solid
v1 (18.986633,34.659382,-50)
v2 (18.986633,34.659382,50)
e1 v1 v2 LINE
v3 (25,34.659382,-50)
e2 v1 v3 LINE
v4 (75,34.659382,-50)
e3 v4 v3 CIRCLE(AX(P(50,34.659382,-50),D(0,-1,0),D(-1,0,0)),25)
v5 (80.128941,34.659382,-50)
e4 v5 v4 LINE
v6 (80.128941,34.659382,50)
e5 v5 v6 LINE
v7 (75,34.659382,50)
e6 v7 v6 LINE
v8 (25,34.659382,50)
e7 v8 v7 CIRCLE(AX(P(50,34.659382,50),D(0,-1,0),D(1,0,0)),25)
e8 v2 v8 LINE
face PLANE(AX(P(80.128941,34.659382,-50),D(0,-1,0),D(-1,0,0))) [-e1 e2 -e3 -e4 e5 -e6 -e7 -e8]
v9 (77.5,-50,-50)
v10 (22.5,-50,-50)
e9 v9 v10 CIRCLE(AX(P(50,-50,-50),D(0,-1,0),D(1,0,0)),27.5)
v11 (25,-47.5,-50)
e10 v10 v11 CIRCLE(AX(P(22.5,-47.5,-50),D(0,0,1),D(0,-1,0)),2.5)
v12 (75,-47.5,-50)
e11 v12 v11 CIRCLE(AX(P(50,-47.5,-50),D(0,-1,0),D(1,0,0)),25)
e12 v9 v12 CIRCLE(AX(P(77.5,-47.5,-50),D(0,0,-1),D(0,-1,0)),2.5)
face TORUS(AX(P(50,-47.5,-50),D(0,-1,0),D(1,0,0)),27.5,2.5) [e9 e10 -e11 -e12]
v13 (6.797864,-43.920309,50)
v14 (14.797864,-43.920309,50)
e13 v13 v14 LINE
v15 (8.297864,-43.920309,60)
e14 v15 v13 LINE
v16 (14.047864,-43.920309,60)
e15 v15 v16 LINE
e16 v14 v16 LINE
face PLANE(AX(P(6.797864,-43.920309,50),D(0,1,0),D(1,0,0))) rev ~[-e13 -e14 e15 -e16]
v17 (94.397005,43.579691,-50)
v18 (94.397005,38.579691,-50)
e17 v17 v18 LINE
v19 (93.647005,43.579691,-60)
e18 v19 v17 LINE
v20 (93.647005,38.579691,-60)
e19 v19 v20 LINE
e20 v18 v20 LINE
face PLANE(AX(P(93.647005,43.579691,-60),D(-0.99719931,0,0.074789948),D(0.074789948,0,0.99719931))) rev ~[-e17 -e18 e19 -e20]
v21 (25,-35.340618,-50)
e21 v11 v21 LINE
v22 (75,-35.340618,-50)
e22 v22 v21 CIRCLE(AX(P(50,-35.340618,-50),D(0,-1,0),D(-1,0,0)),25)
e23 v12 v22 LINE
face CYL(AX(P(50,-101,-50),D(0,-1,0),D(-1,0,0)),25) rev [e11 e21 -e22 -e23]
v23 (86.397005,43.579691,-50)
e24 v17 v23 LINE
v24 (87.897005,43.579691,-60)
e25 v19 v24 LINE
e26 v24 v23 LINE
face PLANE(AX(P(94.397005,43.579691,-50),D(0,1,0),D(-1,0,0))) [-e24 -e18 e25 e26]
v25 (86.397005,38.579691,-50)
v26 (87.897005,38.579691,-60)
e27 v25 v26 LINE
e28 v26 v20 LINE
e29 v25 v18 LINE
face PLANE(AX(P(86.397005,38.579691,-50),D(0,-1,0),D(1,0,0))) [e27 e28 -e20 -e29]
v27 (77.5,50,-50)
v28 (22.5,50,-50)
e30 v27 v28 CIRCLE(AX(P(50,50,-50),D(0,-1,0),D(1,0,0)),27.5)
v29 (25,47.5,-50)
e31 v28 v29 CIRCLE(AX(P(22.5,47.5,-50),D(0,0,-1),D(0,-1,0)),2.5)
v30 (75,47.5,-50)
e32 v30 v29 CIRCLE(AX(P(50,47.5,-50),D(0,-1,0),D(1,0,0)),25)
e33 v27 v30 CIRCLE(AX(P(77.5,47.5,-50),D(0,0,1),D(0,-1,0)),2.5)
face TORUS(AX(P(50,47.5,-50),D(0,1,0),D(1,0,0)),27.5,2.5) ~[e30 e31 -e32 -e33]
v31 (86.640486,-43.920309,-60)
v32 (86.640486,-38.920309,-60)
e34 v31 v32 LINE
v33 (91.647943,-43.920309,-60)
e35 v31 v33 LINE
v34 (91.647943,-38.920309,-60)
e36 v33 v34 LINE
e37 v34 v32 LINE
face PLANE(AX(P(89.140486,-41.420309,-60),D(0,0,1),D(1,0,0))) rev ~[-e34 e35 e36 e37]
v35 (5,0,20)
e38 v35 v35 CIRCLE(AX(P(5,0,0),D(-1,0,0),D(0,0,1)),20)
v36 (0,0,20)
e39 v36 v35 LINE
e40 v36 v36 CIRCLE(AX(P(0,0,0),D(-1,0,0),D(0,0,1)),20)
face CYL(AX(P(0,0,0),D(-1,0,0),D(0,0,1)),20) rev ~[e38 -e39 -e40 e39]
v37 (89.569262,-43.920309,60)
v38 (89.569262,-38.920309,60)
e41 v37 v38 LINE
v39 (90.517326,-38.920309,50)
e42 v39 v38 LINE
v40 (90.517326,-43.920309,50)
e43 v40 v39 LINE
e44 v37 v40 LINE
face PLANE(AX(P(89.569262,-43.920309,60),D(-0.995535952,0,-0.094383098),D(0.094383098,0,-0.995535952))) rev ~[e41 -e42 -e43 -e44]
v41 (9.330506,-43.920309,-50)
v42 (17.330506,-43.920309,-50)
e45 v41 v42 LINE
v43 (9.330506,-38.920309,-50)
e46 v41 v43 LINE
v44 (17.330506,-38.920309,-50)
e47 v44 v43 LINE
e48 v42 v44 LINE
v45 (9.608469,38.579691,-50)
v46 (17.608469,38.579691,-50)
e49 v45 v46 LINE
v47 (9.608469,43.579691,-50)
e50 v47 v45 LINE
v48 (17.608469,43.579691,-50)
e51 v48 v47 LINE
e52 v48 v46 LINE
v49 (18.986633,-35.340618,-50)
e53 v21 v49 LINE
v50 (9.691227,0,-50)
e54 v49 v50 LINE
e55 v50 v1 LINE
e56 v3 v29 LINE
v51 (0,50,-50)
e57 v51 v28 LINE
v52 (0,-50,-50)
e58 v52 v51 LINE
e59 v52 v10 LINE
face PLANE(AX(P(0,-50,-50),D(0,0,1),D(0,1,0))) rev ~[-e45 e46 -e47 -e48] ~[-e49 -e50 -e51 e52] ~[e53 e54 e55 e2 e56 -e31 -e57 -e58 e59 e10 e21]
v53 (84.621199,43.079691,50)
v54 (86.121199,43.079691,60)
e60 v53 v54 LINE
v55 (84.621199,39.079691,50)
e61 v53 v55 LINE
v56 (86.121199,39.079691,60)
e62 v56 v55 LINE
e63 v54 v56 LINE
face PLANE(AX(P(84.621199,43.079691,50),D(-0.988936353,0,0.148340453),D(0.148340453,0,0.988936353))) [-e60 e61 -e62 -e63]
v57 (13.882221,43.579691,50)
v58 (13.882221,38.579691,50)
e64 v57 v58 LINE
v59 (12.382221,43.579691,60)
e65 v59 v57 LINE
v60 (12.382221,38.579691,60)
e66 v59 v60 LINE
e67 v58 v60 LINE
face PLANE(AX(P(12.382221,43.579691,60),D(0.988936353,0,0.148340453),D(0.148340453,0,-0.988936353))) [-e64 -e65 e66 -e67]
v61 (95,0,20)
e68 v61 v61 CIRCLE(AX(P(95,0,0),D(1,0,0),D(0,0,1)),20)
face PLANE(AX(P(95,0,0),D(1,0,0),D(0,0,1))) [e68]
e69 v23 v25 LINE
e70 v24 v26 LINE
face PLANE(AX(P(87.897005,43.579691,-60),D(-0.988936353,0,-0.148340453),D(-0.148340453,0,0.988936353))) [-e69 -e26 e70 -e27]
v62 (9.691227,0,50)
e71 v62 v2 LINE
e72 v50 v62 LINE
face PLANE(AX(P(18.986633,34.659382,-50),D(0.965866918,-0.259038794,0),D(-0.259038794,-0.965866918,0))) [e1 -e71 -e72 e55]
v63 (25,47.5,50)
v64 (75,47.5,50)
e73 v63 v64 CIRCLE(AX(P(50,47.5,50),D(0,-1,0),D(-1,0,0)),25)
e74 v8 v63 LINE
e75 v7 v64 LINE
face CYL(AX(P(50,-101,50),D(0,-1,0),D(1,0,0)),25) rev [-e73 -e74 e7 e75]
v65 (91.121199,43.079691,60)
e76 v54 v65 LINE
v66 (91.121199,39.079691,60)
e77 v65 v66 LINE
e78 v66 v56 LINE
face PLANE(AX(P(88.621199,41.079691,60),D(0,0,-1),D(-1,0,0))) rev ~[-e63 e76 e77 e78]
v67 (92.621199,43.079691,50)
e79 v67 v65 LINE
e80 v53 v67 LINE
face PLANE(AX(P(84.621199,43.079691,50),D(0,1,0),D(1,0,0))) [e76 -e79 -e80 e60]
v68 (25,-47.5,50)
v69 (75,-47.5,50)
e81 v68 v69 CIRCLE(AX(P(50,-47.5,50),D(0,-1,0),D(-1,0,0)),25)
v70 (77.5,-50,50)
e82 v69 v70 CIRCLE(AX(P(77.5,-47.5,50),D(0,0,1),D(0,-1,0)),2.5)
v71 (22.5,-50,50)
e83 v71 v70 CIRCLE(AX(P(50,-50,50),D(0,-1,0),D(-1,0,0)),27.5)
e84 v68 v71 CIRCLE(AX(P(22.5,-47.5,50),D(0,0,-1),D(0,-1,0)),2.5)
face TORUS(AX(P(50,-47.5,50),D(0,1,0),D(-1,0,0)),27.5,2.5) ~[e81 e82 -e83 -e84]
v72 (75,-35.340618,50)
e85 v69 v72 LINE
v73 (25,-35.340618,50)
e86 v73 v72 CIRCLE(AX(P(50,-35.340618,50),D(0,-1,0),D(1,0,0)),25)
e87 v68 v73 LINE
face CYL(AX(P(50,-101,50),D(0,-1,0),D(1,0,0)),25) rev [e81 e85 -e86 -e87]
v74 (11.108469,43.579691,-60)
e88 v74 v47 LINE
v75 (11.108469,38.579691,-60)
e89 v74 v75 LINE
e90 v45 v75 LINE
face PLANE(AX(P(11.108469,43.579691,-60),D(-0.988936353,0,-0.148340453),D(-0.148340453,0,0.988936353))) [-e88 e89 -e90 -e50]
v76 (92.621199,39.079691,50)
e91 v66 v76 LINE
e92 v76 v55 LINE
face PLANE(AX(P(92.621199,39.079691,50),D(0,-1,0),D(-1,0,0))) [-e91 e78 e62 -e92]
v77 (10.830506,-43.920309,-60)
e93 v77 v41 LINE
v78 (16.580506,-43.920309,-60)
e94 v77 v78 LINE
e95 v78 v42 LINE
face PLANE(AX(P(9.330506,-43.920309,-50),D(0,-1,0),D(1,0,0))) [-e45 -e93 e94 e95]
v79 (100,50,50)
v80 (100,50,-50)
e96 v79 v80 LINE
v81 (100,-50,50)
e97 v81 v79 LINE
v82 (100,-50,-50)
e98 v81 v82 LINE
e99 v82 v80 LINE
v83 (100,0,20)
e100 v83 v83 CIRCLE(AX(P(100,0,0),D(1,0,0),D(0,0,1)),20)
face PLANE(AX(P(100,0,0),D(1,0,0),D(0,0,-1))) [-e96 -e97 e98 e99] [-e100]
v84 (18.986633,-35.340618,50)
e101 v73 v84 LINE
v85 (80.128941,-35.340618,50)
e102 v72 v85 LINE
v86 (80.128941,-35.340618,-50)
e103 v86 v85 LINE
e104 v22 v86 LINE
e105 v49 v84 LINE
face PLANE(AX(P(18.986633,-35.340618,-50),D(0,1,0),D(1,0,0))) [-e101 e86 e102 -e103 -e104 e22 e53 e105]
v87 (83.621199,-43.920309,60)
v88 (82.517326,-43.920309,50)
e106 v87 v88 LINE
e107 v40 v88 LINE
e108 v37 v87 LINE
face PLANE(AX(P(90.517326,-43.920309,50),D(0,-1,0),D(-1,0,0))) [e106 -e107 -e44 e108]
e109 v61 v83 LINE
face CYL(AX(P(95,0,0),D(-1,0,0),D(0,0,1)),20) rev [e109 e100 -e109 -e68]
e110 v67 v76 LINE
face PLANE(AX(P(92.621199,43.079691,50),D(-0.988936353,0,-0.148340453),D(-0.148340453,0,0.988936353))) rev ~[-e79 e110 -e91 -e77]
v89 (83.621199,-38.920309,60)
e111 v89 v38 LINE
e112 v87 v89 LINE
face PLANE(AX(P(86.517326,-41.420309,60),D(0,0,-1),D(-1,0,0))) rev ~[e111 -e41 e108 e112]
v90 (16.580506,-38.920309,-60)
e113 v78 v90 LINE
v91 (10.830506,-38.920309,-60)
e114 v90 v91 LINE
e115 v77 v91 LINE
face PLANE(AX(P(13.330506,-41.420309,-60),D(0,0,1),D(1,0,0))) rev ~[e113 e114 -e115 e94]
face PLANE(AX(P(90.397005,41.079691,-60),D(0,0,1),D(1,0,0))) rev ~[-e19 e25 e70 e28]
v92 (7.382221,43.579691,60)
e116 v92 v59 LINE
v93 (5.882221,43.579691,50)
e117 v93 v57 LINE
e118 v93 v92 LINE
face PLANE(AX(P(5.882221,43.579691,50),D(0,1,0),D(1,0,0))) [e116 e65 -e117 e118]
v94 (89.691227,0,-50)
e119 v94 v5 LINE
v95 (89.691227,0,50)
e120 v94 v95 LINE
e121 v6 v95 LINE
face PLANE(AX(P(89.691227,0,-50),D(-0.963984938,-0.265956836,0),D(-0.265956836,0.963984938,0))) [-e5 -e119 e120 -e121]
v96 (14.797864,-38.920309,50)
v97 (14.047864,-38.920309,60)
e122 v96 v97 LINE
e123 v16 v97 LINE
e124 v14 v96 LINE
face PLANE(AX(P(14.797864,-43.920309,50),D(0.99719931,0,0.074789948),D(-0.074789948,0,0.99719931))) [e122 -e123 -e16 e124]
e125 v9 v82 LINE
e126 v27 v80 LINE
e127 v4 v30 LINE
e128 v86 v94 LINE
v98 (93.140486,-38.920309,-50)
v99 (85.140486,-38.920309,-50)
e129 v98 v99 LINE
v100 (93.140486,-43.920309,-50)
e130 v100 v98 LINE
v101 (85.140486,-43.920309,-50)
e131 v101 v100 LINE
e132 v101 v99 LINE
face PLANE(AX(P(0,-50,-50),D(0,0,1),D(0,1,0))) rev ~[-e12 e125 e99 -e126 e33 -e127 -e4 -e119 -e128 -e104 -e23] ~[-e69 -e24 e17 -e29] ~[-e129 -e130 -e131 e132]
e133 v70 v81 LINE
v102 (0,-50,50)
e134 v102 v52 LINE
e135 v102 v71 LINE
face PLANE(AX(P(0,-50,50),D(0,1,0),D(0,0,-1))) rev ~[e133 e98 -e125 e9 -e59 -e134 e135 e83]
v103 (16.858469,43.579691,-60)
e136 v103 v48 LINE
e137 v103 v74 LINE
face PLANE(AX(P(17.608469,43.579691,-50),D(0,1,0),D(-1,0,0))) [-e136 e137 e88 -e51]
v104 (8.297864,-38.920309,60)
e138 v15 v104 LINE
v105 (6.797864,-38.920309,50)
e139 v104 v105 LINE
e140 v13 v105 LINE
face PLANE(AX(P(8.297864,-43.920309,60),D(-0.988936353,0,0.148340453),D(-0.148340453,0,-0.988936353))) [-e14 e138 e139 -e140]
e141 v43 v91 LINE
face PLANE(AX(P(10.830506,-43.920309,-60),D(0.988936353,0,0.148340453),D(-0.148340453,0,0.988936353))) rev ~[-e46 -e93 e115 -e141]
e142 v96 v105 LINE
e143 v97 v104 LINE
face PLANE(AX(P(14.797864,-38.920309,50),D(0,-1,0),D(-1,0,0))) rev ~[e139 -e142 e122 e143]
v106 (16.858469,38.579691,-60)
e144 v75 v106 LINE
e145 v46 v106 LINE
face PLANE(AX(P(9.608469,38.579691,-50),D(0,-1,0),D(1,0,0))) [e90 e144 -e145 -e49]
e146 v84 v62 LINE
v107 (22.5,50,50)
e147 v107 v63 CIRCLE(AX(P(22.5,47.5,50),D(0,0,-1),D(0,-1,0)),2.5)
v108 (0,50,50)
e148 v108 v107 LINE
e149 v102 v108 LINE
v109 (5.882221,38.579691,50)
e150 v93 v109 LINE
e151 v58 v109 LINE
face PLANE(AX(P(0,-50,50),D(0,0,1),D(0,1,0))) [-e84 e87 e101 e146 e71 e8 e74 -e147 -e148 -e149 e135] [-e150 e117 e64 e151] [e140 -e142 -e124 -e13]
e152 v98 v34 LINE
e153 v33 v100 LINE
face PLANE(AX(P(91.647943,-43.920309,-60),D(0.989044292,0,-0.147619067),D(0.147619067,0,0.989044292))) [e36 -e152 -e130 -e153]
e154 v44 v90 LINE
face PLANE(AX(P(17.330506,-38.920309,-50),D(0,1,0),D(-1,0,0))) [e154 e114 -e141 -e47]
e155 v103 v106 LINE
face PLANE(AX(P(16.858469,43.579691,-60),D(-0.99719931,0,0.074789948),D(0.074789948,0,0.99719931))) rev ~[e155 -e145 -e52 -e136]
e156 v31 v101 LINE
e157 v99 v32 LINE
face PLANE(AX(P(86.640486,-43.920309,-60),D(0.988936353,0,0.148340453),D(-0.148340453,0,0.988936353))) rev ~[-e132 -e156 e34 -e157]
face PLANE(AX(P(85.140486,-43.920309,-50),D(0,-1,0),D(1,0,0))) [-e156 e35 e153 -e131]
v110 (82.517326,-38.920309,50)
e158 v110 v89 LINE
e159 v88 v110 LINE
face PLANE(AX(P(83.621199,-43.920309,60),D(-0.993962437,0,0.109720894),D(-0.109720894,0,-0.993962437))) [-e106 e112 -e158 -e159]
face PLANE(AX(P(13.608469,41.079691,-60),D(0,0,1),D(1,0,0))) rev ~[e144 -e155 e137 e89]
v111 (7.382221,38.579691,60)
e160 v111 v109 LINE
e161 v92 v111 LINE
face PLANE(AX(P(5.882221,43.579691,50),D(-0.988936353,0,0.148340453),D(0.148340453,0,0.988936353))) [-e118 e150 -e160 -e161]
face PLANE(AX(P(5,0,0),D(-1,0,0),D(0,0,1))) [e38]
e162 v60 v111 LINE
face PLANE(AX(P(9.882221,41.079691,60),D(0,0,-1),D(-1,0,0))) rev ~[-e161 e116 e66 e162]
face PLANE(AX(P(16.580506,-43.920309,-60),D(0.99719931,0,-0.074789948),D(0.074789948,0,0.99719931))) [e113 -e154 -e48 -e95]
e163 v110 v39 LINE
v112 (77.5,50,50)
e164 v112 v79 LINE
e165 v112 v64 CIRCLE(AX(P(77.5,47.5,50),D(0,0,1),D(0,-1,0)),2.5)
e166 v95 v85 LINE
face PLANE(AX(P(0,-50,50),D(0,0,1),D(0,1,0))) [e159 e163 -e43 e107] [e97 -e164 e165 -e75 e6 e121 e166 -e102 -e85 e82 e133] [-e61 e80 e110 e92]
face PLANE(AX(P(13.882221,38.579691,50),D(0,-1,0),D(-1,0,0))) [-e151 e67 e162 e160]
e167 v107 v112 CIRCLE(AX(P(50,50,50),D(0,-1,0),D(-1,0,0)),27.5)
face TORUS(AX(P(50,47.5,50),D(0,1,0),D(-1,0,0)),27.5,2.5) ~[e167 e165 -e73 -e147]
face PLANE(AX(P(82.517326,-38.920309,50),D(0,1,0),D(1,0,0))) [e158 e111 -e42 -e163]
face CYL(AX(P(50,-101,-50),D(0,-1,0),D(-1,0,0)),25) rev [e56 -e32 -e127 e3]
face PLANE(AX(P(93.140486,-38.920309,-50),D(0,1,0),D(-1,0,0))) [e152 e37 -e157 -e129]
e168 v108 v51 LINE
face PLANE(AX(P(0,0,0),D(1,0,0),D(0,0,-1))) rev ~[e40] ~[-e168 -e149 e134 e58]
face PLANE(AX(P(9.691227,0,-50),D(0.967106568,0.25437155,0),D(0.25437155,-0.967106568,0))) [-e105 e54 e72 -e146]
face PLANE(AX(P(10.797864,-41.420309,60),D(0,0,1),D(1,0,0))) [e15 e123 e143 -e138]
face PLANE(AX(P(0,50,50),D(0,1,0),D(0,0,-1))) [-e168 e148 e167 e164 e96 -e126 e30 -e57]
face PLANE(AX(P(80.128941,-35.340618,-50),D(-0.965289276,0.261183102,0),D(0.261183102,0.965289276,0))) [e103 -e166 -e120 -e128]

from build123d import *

# Parameters (mm, degrees)
SKETCH1_W               = 100
SKETCH1_H               = 100
BOSS_EXTRUDE1_DEPTH     = 100
SKETCH2_R               = 20
CUT_EXTRUDE1_DEPTH      = 5
CUT_EXTRUDE2_START      = -5
SKETCH3_R               = 20
CUT_EXTRUDE2_DEPTH      = 5
CUT_EXTRUDE3_DEPTH      = 151
CUT_EXTRUDE5_DEPTH      = 151
CUT_EXTRUDE5_DEPTH_BACK = 151
CUT_EXTRUDE6_DEPTH      = 151
CUT_EXTRUDE6_DEPTH_BACK = 151
FILLET3_R               = 2.5
BOSS_EXTRUDE3_DEPTH     = 10
CUT_EXTRUDE8_DEPTH      = 10
CUT_EXTRUDE9_DEPTH      = 10
BOSS_EXTRUDE4_DEPTH     = 10
CUT_EXTRUDE11_DEPTH     = 10
CUT_EXTRUDE12_DEPTH     = 10
BOSS_EXTRUDE5_DEPTH     = 10
CUT_EXTRUDE13_DEPTH     = 10
CUT_EXTRUDE15_DEPTH     = 10
BOSS_EXTRUDE6_DEPTH     = 10
CUT_EXTRUDE16_DEPTH     = 10
CUT_EXTRUDE17_DEPTH     = 10
BOSS_EXTRUDE7_DEPTH     = 10
CUT_EXTRUDE18_DEPTH     = 10
CUT_EXTRUDE19_DEPTH     = 10
BOSS_EXTRUDE8_DEPTH     = 10
CUT_EXTRUDE20_DEPTH     = 10
CUT_EXTRUDE21_DEPTH     = 10
BOSS_EXTRUDE9_DEPTH     = 10
CUT_EXTRUDE22_DEPTH     = 10
CUT_EXTRUDE23_DEPTH     = 10
BOSS_EXTRUDE10_DEPTH    = 10
CUT_EXTRUDE24_DEPTH     = 10
CUT_EXTRUDE25_DEPTH     = 10


with BuildPart() as part:
    # Sketch1 → Boss-Extrude1 (new body)
    with BuildSketch(Plane(origin=(0, 0, 0), x_dir=(0, 0, -1), z_dir=(1, 0, 0))):
        Rectangle(SKETCH1_W, SKETCH1_H)
    extrude(amount=BOSS_EXTRUDE1_DEPTH)

    # Sketch2 → Cut-Extrude1 (cut)
    with BuildSketch(Plane.ZY):
        Circle(SKETCH2_R)
    extrude(amount=-CUT_EXTRUDE1_DEPTH, mode=Mode.SUBTRACT)

    # Sketch3 → Cut-Extrude2 (cut)
    with BuildSketch(Plane(origin=(100, 0, 0), x_dir=(0, 0, -1), z_dir=(1, 0, 0)).offset(CUT_EXTRUDE2_START)):
        with Locations(Location((0, 0, 0), (0, 0, 180))):
            Circle(SKETCH3_R)
    extrude(amount=CUT_EXTRUDE2_DEPTH, mode=Mode.SUBTRACT)

    # Sketch4 → Cut-Extrude3 (cut, through all)
    with BuildSketch(Plane(origin=(0, 0, -50), x_dir=(-1, 0, 0), z_dir=(0, 0, -1))):
        Polygon((-80.128941466, 34.659382406), (-18.986632905, 34.659382406), (-9.691227462, 0), (-18.986632905, -35.340617594), (-80.128941466, -35.340617594), (-89.691227462, 0), align=None)
    extrude(amount=-CUT_EXTRUDE3_DEPTH, mode=Mode.SUBTRACT)

    # Sketch15 → Cut-Extrude5 (cut, two sides: drawn at the far end of the back side and taken through both)
    with BuildSketch(Plane(origin=(0, 50, 0), x_dir=(1, 0, 0), z_dir=(0, 1, 0)).offset(-CUT_EXTRUDE5_DEPTH_BACK)):
        with BuildLine():
            Line((75, -310), (75, -50))
            ThreePointArc((75, -50), (50, -25), (25, -50))
            Line((25, -50), (25, -310))
            Line((25, -310), (25, -830))
            Line((25, -830), (75, -830))
            Line((75, -830), (75, -310))
        make_face()
    extrude(amount=CUT_EXTRUDE5_DEPTH + CUT_EXTRUDE5_DEPTH_BACK, mode=Mode.SUBTRACT)

    # Sketch16 → Cut-Extrude6 (cut, two sides: drawn at the far end of the back side and taken through both)
    with BuildSketch(Plane(origin=(0, 50, 0), x_dir=(1, 0, 0), z_dir=(0, 1, 0)).offset(-CUT_EXTRUDE6_DEPTH_BACK)):
        with BuildLine():
            Line((25, 310), (25, 50))
            ThreePointArc((25, 50), (50, 25), (75, 50))
            Line((75, 50), (75, 310))
            Line((75, 310), (75, 830))
            Line((75, 830), (25, 830))
            Line((25, 830), (25, 310))
        make_face()
    extrude(amount=CUT_EXTRUDE6_DEPTH + CUT_EXTRUDE6_DEPTH_BACK, mode=Mode.SUBTRACT)

    # Fillet3
    fillet3_edges = [part.edges().sort_by_distance(p)[0] for p in [
        (50, -50, 25),
        (50, 50, 25),
        (50, -50, -25),
        (50, 50, -25),
    ]]
    fillet(fillet3_edges, radius=FILLET3_R)

    # Sketch17 → Boss-Extrude3 (add)
    with BuildSketch(Plane.XY.offset(50)):
        with BuildLine():
            Line((84.621199284, 43.079691203), (92.621199284, 43.079691203))
            ThreePointArc((92.621199284, 43.079691203), (94.621199284, 41.079691203), (92.621199284, 39.079691203))
            Line((92.621199284, 39.079691203), (84.621199284, 39.079691203))
            ThreePointArc((84.621199284, 39.079691203), (82.621199284, 41.079691203), (84.621199284, 43.079691203))
        make_face()
    extrude(amount=BOSS_EXTRUDE3_DEPTH)

    # Sketch18 → Cut-Extrude8 (cut)
    with BuildSketch(Plane(origin=(0, 43.079691203, 0), x_dir=(1, 0, 0), z_dir=(0, 1, 0))):
        Polygon((84.621199284, -50), (86.121199284, -60), (82.621199284, -60), (82.621199284, -50), align=None)
    extrude(amount=-CUT_EXTRUDE8_DEPTH, mode=Mode.SUBTRACT)

    # Sketch20 → Cut-Extrude9 (cut)
    with BuildSketch(Plane(origin=(0, 43.079691203, 0), x_dir=(1, 0, 0), z_dir=(0, 1, 0))):
        Polygon((91.121199284, -60), (94.621199284, -60), (94.621199284, -50), (92.621199284, -50), align=None)
    extrude(amount=-CUT_EXTRUDE9_DEPTH, mode=Mode.SUBTRACT)

    # Sketch24 → Boss-Extrude4 (add)
    with BuildSketch(Plane.XY.offset(50)):
        with BuildLine():
            Line((5.882221412, 43.579691203), (13.882221412, 43.579691203))
            ThreePointArc((13.882221412, 43.579691203), (16.382221412, 41.079691203), (13.882221412, 38.579691203))
            Line((13.882221412, 38.579691203), (5.882221412, 38.579691203))
            ThreePointArc((5.882221412, 38.579691203), (3.382221412, 41.079691203), (5.882221412, 43.579691203))
        make_face()
    extrude(amount=BOSS_EXTRUDE4_DEPTH)

    # Sketch25 → Cut-Extrude11 (cut)
    with BuildSketch(Plane(origin=(0, 43.579691203, 0), x_dir=(1, 0, 0), z_dir=(0, 1, 0))):
        Polygon((3.382221412, -50), (5.882221412, -50), (7.382221412, -60), (3.382221412, -60), align=None)
    extrude(amount=-CUT_EXTRUDE11_DEPTH, mode=Mode.SUBTRACT)

    # Sketch26 → Cut-Extrude12 (cut)
    with BuildSketch(Plane(origin=(0, 43.579691203, 0), x_dir=(1, 0, 0), z_dir=(0, 1, 0))):
        Polygon((12.382221412, -60), (13.882221412, -50), (16.382221412, -50), (16.382221412, -60), align=None)
    extrude(amount=-CUT_EXTRUDE12_DEPTH, mode=Mode.SUBTRACT)

    # Sketch27 → Boss-Extrude5 (add)
    with BuildSketch(Plane.XY.offset(50)):
        with BuildLine():
            Line((6.7978639, -43.920308797), (14.7978639, -43.920308797))
            ThreePointArc((14.7978639, -43.920308797), (17.2978639, -41.420308797), (14.7978639, -38.920308797))
            Line((14.7978639, -38.920308797), (6.7978639, -38.920308797))
            ThreePointArc((6.7978639, -38.920308797), (4.2978639, -41.420308797), (6.7978639, -43.920308797))
        make_face()
    extrude(amount=BOSS_EXTRUDE5_DEPTH)

    # Sketch29 → Cut-Extrude13 (cut)
    with BuildSketch(Plane.XZ.offset(43.920308797)):
        Polygon((8.2978639, 60), (6.7978639, 50), (4.2978639, 50), (4.2978639, 60), align=None)
    extrude(amount=-CUT_EXTRUDE13_DEPTH, mode=Mode.SUBTRACT)

    # Sketch30 → Cut-Extrude15 (cut)
    with BuildSketch(Plane.XZ.offset(43.920308797)):
        Polygon((14.0478639, 60), (17.2978639, 60), (17.2978639, 50), (14.7978639, 50), align=None)
    extrude(amount=-CUT_EXTRUDE15_DEPTH, mode=Mode.SUBTRACT)

    # Sketch31 → Boss-Extrude6 (add)
    with BuildSketch(Plane.XY.offset(50)):
        with BuildLine():
            Line((82.517325635, -38.920308797), (90.517325635, -38.920308797))
            ThreePointArc((90.517325635, -38.920308797), (93.017325635, -41.420308797), (90.517325635, -43.920308797))
            Line((90.517325635, -43.920308797), (82.517325635, -43.920308797))
            ThreePointArc((82.517325635, -43.920308797), (80.017325635, -41.420308797), (82.517325635, -38.920308797))
        make_face()
    extrude(amount=BOSS_EXTRUDE6_DEPTH)

    # Sketch33 → Cut-Extrude16 (cut)
    with BuildSketch(Plane.XZ.offset(43.920308797)):
        Polygon((83.621199284, 60), (82.517325635, 50), (80.017325635, 50), (80.017325635, 60), align=None)
    extrude(amount=-CUT_EXTRUDE16_DEPTH, mode=Mode.SUBTRACT)

    # Sketch34 → Cut-Extrude17 (cut)
    with BuildSketch(Plane.XZ.offset(43.920308797)):
        Polygon((89.56926246, 60), (90.517325635, 50), (93.017325635, 50), (93.017325635, 60), align=None)
    extrude(amount=-CUT_EXTRUDE17_DEPTH, mode=Mode.SUBTRACT)

    # Sketch35 → Boss-Extrude7 (add)
    with BuildSketch(Plane(origin=(0, 0, -50), x_dir=(-1, 0, 0), z_dir=(0, 0, -1))):
        with BuildLine():
            Line((-17.608468635, 43.579691203), (-9.608468635, 43.579691203))
            ThreePointArc((-9.608468635, 43.579691203), (-7.108468635, 41.079691203), (-9.608468635, 38.579691203))
            Line((-9.608468635, 38.579691203), (-17.608468635, 38.579691203))
            ThreePointArc((-17.608468635, 38.579691203), (-20.108468635, 41.079691203), (-17.608468635, 43.579691203))
        make_face()
    extrude(amount=BOSS_EXTRUDE7_DEPTH)

    # Sketch36 → Cut-Extrude18 (cut)
    with BuildSketch(Plane(origin=(0, 43.579691203, 0), x_dir=(1, 0, 0), z_dir=(0, 1, 0))):
        Polygon((11.108468635, 60), (9.608468635, 50), (7.108468635, 50), (7.108468635, 60), align=None)
    extrude(amount=-CUT_EXTRUDE18_DEPTH, mode=Mode.SUBTRACT)

    # Sketch37 → Cut-Extrude19 (cut)
    with BuildSketch(Plane(origin=(0, 43.579691203, 0), x_dir=(1, 0, 0), z_dir=(0, 1, 0))):
        Polygon((16.858468635, 60), (17.608468635, 50), (20.108468635, 50), (20.108468635, 60), align=None)
    extrude(amount=-CUT_EXTRUDE19_DEPTH, mode=Mode.SUBTRACT)

    # Sketch38 → Boss-Extrude8 (add)
    with BuildSketch(Plane(origin=(0, 0, -50), x_dir=(-1, 0, 0), z_dir=(0, 0, -1))):
        with BuildLine():
            Line((-17.330505729, -38.920308797), (-9.330505729, -38.920308797))
            ThreePointArc((-9.330505729, -38.920308797), (-6.830505729, -41.420308797), (-9.330505729, -43.920308797))
            Line((-9.330505729, -43.920308797), (-17.330505729, -43.920308797))
            ThreePointArc((-17.330505729, -43.920308797), (-19.830505729, -41.420308797), (-17.330505729, -38.920308797))
        make_face()
    extrude(amount=BOSS_EXTRUDE8_DEPTH)

    # Sketch40 → Cut-Extrude20 (cut)
    with BuildSketch(Plane.XZ.offset(43.920308797)):
        Polygon((10.830505729, -60), (9.330505729, -50), (6.830505729, -50), (6.830505729, -60), align=None)
    extrude(amount=-CUT_EXTRUDE20_DEPTH, mode=Mode.SUBTRACT)

    # Sketch41 → Cut-Extrude21 (cut)
    with BuildSketch(Plane.XZ.offset(43.920308797)):
        Polygon((16.580505729, -60), (17.330505729, -50), (19.830505729, -50), (19.830505729, -60), align=None)
    extrude(amount=-CUT_EXTRUDE21_DEPTH, mode=Mode.SUBTRACT)

    # Sketch42 → Boss-Extrude9 (add)
    with BuildSketch(Plane(origin=(0, 0, -50), x_dir=(-1, 0, 0), z_dir=(0, 0, -1))):
        with BuildLine():
            Line((-94.397005035, 43.579691203), (-86.397005035, 43.579691203))
            ThreePointArc((-86.397005035, 43.579691203), (-83.897005035, 41.079691203), (-86.397005035, 38.579691203))
            Line((-86.397005035, 38.579691203), (-94.397005035, 38.579691203))
            ThreePointArc((-94.397005035, 38.579691203), (-96.897005035, 41.079691203), (-94.397005035, 43.579691203))
        make_face()
    extrude(amount=BOSS_EXTRUDE9_DEPTH)

    # Sketch43 → Cut-Extrude22 (cut)
    with BuildSketch(Plane(origin=(0, 43.579691203, 0), x_dir=(1, 0, 0), z_dir=(0, 1, 0))):
        Polygon((87.897005035, 60), (86.397005035, 50), (83.897005035, 50), (83.897005035, 60), align=None)
    extrude(amount=-CUT_EXTRUDE22_DEPTH, mode=Mode.SUBTRACT)

    # Sketch44 → Cut-Extrude23 (cut)
    with BuildSketch(Plane(origin=(0, 43.579691203, 0), x_dir=(1, 0, 0), z_dir=(0, 1, 0))):
        Polygon((93.647005035, 60), (94.397005035, 50), (96.897005035, 50), (96.897005035, 60), align=None)
    extrude(amount=-CUT_EXTRUDE23_DEPTH, mode=Mode.SUBTRACT)

    # Sketch45 → Boss-Extrude10 (add)
    with BuildSketch(Plane(origin=(0, 0, -50), x_dir=(-1, 0, 0), z_dir=(0, 0, -1))):
        with BuildLine():
            Line((-93.140486024, -38.920308797), (-85.140486024, -38.920308797))
            ThreePointArc((-85.140486024, -38.920308797), (-82.640486024, -41.420308797), (-85.140486024, -43.920308797))
            Line((-85.140486024, -43.920308797), (-93.140486024, -43.920308797))
            ThreePointArc((-93.140486024, -43.920308797), (-95.640486024, -41.420308797), (-93.140486024, -38.920308797))
        make_face()
    extrude(amount=BOSS_EXTRUDE10_DEPTH)

    # Sketch47 → Cut-Extrude24 (cut)
    with BuildSketch(Plane.XZ.offset(43.920308797)):
        Polygon((86.640486024, -60), (85.140486024, -50), (82.640486024, -50), (82.640486024, -60), align=None)
    extrude(amount=-CUT_EXTRUDE24_DEPTH, mode=Mode.SUBTRACT)

    # Sketch48 → Cut-Extrude25 (cut)
    with BuildSketch(Plane.XZ.offset(43.920308797)):
        Polygon((91.647943496, -60), (93.140486024, -50), (95.640486024, -50), (95.640486024, -60), align=None)
    extrude(amount=-CUT_EXTRUDE25_DEPTH, mode=Mode.SUBTRACT)


solid = part.part
